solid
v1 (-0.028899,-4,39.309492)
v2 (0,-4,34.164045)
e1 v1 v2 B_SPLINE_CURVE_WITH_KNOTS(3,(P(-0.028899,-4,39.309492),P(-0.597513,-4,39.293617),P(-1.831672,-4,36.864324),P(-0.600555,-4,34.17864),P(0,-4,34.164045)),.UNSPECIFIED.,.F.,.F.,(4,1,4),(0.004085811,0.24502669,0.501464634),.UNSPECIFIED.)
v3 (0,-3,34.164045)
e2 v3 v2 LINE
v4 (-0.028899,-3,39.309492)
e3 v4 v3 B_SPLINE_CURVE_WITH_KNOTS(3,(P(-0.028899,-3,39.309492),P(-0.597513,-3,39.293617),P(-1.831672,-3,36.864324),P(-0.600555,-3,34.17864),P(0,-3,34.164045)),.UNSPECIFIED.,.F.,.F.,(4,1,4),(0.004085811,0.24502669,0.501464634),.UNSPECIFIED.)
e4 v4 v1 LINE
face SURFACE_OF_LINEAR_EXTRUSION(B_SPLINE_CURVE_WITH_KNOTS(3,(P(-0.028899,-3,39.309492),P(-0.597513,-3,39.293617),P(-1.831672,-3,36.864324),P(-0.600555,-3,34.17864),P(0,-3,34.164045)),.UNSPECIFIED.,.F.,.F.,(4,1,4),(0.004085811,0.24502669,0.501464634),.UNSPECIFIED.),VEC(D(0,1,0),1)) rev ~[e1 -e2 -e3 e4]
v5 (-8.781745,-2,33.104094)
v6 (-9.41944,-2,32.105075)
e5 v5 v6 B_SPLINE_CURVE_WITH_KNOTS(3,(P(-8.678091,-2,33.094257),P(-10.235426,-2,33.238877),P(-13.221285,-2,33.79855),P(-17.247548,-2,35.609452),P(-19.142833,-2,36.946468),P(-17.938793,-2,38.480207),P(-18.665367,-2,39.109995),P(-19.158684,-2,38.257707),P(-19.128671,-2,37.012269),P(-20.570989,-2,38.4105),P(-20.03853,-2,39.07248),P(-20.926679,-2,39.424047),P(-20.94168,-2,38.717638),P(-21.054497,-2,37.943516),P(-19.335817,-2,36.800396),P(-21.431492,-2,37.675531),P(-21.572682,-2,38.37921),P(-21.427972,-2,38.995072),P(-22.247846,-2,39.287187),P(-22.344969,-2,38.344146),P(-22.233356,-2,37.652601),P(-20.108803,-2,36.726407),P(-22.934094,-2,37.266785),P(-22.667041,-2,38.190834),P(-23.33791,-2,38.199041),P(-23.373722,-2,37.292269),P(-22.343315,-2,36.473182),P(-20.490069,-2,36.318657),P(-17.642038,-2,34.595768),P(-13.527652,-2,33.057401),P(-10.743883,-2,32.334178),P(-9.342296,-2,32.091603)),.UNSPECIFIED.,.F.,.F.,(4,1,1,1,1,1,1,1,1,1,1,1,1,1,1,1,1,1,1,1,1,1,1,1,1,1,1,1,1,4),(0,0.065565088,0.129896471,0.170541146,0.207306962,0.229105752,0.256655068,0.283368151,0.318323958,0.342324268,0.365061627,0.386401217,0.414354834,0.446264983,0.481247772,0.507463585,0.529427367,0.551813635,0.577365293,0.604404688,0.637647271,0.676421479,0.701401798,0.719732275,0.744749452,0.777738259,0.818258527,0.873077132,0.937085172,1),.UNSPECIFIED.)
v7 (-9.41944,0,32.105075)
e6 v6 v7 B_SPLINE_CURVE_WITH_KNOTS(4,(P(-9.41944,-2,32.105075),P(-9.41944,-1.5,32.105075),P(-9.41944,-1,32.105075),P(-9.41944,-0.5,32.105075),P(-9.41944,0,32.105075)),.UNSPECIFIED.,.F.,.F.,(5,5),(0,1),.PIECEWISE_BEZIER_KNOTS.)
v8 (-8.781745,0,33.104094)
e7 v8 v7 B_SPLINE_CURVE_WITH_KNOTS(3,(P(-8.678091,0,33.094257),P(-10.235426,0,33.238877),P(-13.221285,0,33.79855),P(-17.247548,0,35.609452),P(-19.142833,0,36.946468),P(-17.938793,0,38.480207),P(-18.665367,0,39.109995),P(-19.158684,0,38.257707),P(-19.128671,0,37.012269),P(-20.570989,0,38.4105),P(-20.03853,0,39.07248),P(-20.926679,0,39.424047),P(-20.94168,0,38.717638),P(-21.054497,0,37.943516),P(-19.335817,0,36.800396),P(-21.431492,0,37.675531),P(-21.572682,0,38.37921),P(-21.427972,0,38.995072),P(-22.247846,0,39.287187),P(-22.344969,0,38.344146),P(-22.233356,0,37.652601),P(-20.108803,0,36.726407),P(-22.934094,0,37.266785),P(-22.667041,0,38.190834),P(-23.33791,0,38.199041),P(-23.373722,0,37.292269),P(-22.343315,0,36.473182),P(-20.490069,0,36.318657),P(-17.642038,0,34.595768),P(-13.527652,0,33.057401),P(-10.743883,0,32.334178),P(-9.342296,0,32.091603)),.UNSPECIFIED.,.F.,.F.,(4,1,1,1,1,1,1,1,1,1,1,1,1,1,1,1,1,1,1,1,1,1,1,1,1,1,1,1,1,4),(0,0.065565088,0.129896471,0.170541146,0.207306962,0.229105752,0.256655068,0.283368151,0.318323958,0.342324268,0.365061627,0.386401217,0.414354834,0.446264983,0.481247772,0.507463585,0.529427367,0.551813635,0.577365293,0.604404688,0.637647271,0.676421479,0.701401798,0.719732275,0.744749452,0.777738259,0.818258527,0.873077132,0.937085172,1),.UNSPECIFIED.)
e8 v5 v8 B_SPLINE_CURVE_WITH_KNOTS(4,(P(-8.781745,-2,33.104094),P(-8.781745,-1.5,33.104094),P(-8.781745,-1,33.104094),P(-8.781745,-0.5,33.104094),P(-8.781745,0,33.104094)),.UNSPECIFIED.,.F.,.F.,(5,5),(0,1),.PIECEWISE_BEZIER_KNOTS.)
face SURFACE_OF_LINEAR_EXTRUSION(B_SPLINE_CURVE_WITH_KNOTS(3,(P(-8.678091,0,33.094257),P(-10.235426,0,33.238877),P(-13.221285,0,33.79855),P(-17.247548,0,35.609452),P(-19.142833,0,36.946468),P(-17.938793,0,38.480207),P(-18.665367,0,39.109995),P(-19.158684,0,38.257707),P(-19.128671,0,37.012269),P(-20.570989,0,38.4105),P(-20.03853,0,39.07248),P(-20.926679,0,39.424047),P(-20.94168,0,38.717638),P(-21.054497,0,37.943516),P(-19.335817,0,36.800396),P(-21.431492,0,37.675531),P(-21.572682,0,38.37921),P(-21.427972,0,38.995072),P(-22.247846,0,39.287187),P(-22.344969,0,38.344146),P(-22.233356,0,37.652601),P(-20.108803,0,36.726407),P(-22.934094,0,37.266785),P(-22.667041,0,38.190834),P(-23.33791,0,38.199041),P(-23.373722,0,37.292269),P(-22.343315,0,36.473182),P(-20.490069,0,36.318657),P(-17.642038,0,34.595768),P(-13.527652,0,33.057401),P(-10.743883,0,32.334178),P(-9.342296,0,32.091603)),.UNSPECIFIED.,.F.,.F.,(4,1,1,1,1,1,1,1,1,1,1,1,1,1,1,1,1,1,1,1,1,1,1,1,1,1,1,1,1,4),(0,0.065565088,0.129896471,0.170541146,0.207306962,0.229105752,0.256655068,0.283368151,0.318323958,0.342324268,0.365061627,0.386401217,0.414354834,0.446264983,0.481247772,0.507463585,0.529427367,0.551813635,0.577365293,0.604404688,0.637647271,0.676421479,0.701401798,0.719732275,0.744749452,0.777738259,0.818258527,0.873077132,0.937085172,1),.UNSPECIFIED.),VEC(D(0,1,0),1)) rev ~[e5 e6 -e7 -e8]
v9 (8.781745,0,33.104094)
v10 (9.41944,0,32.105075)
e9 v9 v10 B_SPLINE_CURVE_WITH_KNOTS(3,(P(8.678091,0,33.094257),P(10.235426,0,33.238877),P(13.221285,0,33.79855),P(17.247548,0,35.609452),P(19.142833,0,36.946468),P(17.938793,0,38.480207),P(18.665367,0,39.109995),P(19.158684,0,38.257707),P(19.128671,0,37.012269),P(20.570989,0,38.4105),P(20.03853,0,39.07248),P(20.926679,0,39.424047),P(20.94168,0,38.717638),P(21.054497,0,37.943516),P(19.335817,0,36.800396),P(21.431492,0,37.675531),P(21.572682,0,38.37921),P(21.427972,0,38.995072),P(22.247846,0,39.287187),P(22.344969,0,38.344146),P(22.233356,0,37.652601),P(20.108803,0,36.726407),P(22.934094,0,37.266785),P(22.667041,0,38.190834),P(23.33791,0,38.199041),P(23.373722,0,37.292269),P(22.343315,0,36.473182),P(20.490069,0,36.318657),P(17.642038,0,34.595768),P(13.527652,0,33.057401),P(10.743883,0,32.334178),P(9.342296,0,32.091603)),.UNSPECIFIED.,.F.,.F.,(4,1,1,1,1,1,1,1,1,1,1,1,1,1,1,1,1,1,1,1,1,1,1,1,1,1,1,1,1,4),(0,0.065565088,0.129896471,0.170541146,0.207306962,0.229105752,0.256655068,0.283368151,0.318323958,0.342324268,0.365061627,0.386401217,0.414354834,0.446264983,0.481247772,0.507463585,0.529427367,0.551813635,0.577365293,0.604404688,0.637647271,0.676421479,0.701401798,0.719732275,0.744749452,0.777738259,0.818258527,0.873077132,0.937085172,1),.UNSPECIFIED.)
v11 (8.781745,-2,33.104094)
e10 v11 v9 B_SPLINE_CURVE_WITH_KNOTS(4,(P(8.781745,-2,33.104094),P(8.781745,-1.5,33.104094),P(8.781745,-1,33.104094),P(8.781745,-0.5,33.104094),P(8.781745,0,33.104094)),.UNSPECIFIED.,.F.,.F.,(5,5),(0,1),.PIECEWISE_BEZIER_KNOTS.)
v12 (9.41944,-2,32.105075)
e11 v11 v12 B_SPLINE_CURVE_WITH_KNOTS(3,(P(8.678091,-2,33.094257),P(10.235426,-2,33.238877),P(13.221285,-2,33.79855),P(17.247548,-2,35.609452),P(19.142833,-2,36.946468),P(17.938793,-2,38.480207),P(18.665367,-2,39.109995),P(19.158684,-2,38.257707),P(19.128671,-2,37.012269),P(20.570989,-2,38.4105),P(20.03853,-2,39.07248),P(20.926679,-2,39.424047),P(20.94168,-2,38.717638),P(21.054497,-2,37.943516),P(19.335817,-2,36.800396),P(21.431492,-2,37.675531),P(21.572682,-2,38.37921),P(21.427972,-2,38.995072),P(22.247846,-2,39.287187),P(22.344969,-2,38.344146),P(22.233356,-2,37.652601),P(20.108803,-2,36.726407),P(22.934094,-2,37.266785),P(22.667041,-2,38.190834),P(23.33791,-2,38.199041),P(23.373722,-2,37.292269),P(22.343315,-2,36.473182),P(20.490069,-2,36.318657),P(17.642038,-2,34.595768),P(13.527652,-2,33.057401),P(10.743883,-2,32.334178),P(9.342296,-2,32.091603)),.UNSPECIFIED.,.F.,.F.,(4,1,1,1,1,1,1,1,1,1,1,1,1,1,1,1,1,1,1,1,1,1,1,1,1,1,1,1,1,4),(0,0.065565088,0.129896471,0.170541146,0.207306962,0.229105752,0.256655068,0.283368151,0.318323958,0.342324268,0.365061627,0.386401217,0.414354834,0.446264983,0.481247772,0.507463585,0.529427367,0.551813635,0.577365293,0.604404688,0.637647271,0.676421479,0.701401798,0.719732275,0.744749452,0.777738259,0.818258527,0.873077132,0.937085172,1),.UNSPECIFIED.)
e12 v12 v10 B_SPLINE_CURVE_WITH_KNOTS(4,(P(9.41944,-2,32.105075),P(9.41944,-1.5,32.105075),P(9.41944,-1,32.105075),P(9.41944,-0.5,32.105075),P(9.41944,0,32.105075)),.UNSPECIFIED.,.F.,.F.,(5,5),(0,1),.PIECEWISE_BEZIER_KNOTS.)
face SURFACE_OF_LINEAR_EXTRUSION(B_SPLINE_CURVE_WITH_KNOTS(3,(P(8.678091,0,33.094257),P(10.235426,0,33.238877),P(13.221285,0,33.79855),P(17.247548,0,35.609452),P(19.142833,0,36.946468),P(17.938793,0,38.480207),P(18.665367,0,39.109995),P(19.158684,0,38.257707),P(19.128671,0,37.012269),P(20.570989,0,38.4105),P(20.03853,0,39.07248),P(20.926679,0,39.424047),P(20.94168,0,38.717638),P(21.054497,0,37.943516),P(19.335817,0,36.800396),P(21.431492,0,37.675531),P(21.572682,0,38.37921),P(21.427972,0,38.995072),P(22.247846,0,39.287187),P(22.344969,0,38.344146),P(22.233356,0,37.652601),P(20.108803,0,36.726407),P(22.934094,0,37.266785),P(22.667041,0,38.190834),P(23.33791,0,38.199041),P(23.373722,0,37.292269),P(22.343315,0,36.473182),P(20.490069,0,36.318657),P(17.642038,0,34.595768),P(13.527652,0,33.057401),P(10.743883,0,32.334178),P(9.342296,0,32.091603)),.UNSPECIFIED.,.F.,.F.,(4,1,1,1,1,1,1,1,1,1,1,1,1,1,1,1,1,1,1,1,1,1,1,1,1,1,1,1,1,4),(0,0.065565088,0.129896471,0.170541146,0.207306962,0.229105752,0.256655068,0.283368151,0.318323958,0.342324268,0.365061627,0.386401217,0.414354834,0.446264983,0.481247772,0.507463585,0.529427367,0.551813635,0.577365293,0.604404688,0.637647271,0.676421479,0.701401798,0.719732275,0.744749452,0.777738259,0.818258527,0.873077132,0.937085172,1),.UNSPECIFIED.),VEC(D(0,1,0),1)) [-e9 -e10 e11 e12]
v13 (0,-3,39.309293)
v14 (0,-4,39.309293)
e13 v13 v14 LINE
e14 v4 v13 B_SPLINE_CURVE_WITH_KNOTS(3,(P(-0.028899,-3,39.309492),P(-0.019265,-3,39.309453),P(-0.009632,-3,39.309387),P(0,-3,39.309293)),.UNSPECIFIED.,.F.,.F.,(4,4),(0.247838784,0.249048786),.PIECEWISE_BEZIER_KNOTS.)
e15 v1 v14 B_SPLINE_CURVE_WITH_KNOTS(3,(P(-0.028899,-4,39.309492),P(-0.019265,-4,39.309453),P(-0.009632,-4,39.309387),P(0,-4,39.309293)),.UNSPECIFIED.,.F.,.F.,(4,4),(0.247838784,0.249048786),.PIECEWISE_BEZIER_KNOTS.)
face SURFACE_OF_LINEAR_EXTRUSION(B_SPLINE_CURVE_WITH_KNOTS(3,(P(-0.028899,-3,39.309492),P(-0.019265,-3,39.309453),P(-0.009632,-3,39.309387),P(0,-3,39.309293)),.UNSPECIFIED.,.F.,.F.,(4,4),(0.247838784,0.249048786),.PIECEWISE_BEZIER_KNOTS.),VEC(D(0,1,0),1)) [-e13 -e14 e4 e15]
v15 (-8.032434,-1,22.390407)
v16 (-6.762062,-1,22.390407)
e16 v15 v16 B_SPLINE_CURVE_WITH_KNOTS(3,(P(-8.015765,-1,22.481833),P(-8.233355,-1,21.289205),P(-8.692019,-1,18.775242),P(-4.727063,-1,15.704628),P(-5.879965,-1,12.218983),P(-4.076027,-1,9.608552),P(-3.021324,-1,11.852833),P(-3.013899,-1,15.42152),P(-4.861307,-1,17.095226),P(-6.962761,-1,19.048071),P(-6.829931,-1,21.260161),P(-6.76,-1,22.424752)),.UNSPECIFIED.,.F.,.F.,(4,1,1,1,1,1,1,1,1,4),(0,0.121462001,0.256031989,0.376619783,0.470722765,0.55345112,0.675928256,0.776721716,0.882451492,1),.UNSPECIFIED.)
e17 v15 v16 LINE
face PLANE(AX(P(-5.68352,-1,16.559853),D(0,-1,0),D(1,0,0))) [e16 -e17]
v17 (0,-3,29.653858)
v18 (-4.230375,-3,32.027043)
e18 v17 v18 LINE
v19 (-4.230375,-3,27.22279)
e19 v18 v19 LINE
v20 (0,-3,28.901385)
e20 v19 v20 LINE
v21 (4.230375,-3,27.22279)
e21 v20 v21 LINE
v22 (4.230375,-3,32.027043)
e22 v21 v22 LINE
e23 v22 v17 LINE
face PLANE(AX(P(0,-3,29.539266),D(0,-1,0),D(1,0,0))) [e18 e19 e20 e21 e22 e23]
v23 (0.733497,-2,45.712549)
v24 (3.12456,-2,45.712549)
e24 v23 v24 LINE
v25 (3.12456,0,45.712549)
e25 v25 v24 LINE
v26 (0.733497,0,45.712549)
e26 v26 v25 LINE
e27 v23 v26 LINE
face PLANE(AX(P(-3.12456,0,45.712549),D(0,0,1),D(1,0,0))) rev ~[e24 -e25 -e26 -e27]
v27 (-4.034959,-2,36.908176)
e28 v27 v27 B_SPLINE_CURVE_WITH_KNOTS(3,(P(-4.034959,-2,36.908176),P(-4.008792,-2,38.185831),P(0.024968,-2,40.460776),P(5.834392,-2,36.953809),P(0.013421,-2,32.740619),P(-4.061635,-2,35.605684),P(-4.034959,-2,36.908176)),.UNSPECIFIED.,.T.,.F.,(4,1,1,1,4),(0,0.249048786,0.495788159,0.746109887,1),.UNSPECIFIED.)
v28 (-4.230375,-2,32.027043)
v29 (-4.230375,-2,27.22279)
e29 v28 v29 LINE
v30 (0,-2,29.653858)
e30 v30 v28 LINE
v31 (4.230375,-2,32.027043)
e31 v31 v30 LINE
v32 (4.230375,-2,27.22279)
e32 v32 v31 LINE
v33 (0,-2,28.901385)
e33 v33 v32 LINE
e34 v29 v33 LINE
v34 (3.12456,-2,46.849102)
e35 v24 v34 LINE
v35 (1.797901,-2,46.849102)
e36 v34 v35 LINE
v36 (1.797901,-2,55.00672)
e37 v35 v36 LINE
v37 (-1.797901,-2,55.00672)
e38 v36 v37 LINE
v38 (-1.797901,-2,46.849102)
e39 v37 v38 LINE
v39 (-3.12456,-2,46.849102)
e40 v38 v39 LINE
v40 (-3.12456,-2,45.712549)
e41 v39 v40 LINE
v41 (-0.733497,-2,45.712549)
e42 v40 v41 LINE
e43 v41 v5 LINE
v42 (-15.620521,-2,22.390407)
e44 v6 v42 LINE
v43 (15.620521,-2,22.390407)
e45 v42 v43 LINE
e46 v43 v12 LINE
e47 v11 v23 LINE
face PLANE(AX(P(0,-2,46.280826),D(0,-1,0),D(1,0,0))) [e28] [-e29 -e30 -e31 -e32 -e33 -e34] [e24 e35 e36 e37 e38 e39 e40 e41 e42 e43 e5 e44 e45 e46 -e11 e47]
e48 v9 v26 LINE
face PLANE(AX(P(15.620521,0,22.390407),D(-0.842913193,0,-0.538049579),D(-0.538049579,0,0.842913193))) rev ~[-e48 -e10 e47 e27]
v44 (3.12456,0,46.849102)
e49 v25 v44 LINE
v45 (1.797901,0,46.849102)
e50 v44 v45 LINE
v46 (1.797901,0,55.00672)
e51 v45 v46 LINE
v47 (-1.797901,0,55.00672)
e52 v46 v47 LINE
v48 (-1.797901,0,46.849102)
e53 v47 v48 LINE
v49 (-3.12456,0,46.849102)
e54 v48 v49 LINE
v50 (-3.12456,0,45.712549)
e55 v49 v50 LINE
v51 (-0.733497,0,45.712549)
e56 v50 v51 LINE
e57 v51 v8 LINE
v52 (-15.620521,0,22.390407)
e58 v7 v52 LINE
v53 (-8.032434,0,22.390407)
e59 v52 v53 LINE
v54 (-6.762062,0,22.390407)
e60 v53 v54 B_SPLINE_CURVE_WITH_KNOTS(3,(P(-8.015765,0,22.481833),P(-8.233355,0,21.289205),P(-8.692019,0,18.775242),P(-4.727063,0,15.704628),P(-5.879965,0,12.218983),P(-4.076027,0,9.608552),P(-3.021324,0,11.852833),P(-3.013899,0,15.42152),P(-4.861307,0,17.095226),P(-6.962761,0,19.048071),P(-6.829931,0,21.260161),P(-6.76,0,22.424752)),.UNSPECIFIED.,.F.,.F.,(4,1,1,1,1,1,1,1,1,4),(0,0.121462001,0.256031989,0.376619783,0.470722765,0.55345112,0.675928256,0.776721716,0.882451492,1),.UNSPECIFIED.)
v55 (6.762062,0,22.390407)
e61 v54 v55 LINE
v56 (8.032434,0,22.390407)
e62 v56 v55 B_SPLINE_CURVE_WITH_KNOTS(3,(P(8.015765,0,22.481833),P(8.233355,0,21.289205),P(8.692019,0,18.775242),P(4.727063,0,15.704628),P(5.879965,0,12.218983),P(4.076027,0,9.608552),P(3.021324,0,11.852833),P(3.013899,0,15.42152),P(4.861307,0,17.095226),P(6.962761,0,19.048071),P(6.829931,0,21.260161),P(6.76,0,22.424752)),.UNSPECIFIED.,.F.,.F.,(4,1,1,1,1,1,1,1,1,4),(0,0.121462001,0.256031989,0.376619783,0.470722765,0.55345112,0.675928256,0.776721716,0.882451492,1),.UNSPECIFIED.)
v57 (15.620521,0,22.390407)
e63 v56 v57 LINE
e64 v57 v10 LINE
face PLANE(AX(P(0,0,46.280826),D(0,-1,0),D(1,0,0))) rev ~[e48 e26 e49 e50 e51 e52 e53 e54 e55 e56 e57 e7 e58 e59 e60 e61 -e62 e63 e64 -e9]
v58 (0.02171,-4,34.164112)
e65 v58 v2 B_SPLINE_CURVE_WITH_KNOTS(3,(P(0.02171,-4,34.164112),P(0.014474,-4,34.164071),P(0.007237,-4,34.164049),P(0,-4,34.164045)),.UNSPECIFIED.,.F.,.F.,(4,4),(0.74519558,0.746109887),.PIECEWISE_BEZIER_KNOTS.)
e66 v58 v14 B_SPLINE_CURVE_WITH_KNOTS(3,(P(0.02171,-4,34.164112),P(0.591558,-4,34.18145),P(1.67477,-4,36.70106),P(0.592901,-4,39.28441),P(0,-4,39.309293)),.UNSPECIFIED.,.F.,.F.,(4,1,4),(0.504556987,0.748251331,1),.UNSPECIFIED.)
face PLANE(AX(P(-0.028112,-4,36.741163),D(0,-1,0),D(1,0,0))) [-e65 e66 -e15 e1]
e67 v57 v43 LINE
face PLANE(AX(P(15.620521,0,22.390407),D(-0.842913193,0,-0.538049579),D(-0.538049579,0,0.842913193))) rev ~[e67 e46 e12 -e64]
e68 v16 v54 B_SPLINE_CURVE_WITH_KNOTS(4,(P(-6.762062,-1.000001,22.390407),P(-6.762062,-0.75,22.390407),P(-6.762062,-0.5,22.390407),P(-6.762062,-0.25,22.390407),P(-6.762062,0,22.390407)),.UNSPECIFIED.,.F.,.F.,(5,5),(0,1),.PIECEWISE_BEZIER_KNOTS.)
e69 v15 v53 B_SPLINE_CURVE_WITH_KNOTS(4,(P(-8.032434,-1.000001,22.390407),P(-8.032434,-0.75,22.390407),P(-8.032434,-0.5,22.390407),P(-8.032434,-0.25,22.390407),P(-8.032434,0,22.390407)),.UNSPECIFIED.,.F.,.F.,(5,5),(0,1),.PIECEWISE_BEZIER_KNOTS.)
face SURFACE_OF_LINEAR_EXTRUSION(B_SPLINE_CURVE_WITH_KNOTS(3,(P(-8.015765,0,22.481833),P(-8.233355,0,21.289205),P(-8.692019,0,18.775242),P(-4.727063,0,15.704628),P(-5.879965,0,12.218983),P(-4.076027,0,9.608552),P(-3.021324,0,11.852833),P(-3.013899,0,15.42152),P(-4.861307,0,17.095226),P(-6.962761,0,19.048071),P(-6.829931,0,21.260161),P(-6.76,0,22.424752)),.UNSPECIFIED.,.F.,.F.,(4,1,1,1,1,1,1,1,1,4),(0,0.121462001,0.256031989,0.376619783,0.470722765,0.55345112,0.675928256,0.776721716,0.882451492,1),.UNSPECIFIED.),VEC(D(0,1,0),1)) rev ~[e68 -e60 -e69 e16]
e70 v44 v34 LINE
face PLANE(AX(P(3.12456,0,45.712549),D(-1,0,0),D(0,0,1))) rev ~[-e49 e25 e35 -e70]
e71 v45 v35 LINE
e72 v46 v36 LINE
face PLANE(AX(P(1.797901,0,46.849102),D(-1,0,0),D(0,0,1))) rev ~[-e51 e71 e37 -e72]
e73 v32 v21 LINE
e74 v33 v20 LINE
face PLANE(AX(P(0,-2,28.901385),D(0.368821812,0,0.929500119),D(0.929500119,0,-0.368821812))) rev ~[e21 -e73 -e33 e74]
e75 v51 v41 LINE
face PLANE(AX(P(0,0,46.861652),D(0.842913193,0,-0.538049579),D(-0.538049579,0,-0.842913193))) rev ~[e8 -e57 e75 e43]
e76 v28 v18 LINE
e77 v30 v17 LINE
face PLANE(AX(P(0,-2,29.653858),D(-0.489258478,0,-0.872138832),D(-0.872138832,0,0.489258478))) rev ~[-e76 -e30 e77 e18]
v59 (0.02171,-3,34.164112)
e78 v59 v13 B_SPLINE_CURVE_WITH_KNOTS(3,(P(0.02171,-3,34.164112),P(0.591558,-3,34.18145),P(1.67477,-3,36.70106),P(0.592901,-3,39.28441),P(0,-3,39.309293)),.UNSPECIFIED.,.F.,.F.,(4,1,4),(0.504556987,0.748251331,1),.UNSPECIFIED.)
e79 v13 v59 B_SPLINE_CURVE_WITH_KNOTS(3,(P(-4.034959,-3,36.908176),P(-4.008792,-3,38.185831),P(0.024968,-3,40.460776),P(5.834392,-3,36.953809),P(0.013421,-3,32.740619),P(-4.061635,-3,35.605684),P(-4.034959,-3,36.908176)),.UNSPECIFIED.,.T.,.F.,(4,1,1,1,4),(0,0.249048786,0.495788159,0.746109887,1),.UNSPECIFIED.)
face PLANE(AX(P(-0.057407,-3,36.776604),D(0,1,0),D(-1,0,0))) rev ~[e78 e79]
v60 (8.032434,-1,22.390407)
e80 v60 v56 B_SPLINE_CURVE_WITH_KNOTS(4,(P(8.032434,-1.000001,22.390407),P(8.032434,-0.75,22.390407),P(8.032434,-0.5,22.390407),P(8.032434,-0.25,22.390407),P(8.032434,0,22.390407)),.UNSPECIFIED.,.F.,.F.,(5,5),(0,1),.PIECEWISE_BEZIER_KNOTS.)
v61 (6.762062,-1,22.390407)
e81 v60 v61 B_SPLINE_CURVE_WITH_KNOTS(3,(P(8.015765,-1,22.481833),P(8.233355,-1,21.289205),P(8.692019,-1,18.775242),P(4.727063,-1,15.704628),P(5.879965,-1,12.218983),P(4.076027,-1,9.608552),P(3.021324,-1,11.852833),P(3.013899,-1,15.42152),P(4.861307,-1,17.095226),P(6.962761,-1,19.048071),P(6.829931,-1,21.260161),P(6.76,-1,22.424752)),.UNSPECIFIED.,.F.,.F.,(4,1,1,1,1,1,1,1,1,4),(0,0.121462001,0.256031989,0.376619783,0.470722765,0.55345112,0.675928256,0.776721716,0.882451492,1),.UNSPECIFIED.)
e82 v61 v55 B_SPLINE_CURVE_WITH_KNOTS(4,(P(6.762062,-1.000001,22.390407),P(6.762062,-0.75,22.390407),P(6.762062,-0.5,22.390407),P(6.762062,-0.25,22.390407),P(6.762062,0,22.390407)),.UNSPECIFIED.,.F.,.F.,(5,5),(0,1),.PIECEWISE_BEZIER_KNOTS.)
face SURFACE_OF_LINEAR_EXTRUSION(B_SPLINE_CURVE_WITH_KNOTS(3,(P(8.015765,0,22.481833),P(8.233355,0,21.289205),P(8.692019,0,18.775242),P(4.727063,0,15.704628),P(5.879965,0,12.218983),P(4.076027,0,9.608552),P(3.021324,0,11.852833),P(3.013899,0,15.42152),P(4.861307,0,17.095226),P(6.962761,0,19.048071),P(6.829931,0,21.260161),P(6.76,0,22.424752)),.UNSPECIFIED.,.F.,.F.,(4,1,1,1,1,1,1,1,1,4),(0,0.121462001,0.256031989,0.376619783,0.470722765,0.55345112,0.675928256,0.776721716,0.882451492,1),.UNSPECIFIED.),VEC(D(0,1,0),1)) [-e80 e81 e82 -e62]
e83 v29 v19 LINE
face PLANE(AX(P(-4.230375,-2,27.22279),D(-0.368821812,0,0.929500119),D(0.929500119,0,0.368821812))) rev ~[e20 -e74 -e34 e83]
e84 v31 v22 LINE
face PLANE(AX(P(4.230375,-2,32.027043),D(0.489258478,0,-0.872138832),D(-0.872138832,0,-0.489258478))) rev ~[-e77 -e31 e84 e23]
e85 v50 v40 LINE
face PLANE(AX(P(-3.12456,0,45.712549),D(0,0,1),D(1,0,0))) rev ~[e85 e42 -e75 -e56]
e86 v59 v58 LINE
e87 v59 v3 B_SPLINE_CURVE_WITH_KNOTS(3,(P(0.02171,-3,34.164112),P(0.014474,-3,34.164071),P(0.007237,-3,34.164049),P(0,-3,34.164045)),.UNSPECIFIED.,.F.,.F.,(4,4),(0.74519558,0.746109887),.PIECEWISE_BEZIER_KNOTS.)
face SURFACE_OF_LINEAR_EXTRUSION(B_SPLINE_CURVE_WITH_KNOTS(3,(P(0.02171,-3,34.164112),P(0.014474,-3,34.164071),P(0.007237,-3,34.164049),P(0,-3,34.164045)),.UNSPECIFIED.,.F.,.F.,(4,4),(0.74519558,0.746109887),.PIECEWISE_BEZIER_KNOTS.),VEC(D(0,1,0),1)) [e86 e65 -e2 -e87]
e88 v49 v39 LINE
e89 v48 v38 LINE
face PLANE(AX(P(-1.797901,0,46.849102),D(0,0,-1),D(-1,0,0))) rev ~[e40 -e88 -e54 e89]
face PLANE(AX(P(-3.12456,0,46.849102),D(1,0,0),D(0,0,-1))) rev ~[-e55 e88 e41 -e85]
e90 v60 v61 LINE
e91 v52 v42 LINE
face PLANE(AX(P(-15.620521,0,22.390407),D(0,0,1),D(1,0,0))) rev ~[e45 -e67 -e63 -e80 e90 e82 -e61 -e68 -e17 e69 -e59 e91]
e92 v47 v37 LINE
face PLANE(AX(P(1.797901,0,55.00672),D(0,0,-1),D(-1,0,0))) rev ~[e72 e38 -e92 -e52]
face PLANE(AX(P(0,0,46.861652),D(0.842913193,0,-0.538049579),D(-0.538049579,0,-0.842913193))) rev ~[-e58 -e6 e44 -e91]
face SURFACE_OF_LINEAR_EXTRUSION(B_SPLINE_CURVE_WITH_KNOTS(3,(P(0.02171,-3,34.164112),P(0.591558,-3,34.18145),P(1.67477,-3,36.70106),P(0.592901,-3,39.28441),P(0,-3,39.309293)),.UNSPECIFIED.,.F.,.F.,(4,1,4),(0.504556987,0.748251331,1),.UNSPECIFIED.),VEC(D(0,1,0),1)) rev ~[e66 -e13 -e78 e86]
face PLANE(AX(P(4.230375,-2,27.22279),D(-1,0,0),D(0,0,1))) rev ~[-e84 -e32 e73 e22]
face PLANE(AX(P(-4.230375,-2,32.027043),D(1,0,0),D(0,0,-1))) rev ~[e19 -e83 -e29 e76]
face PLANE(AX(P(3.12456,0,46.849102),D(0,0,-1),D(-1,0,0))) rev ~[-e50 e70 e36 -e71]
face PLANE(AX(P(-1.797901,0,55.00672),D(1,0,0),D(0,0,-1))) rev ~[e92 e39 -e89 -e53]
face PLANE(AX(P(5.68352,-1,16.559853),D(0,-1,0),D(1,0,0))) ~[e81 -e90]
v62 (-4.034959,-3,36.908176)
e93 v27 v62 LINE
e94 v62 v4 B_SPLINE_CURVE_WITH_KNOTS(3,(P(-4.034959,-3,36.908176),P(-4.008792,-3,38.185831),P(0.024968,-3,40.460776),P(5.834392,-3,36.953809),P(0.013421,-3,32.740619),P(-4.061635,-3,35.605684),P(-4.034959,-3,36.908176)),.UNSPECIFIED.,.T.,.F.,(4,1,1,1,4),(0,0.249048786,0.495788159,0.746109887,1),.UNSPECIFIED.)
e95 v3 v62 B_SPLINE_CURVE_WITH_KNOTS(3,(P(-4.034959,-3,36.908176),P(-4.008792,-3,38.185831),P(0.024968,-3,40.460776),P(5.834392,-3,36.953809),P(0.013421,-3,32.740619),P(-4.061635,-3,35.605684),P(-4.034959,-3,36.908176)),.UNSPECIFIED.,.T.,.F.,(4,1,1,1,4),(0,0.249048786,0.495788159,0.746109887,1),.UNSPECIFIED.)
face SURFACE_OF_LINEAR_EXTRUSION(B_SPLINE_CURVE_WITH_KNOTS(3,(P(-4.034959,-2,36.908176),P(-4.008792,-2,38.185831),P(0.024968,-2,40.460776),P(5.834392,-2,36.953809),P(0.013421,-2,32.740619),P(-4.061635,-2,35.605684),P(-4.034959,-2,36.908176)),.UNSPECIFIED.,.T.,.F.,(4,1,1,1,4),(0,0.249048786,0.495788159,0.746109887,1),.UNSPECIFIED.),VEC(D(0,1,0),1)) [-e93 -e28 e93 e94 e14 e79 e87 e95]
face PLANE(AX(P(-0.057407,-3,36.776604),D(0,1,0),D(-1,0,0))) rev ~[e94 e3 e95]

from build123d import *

# Parameters (mm, degrees)
F1_DEPTH  = 2
F3_DEPTH  = 1
F5_DEPTH  = 1
F7_DEPTH  = 1
F9_DEPTH  = 1
F12_DEPTH = 2
F15_DEPTH = 2


with BuildPart() as f1:
    # F0 (on Front) → F1 (new body)
    with BuildSketch(Plane.XZ):
        Polygon((15.6205212697, 22.3904065788), (0, 46.8616522849), (-15.6205212697, 22.3904065788), (0, 22.3904065788), align=None)
    extrude(amount=F1_DEPTH)

    # F2 (on face) → F3 (join)
    with BuildSketch(Plane.XZ.offset(2)):
        with BuildLine():
            add(Edge.make_bspline(
                [(-4.0349592455, 36.9081757963), (-4.0087917554, 38.1858308355), (0.0249684195, 40.4607762304), (5.8343924038, 36.953808783), (0.0134213075, 32.7406191639), (-4.0616354125, 35.6056840712), (-4.0349592455, 36.9081757963)],
                knots=[0, 0, 0, 0, 0.2490487858, 0.495788159, 0.7461098867, 1, 1, 1, 1], degree=3))
        make_face()
    extrude(amount=F3_DEPTH)

    # F4 (on face) → F5 (join)
    with BuildSketch(Plane.XZ.offset(3)):
        with BuildLine():
            add(Edge.make_bspline(
                [(0.0217100728, 34.1641122458), (0.5915584332, 34.1814496362), (1.6747703883, 36.7010599903), (0.5929011025, 39.2844102571), (0, 39.3092930317)],
                knots=[0.5045569869, 0.5045569869, 0.5045569869, 0.5045569869, 0.7482513312, 1, 1, 1, 1], degree=3))
            add(Edge.make_bspline(
                [(-0.0288990093, 39.3094922938), (-0.0192651296, 39.3094532254), (-0.0096320483, 39.309386844), (0, 39.3092930317)],
                knots=[0.2478387836, 0.2478387836, 0.2478387836, 0.2478387836, 0.2490487858, 0.2490487858, 0.2490487858, 0.2490487858], degree=3))
            add(Edge.make_bspline(
                [(-0.0288990093, 39.3094922938), (-0.5975127804, 39.293616949), (-1.831672015, 36.8643236509), (-0.6005546173, 34.1786399474), (-5.75e-08, 34.1640450074)],
                knots=[0.0040858105, 0.0040858105, 0.0040858105, 0.0040858105, 0.2450266899, 0.5014646337, 0.5014646337, 0.5014646337, 0.5014646337], degree=3))
            add(Edge.make_bspline(
                [(0.0217100728, 34.1641122458), (0.0144739922, 34.1640711591), (0.0072372701, 34.1640487212), (0, 34.164045006)],
                knots=[0.7451955795, 0.7451955795, 0.7451955795, 0.7451955795, 0.7461098867, 0.7461098867, 0.7461098867, 0.7461098867], degree=3))
        make_face()
    extrude(amount=F5_DEPTH)

    # F6 (on face) → F7 (join)
    with BuildSketch(Plane.XZ.offset(2)):
        Polygon((4.230374936, 32.0270434022), (0, 29.6538583934), (-4.230374936, 32.0270434022), (-4.230374936, 27.222789824), (0, 28.9013851434), (4.230374936, 27.222789824), align=None)
    extrude(amount=F7_DEPTH)

    # F10: F9 across plane


with BuildPart() as f9:
    # F8 (on Front) → F9 (new body)
    with BuildSketch(Plane.XZ):
        with BuildLine():
            Line((-6.7599997856, 22.4247518927), (-8.0157648772, 22.4818326533))
            add(Edge.make_bspline(
                [(-8.0157648772, 22.4818326533), (-8.2333554622, 21.2892046586), (-8.6920186649, 18.7752421374), (-4.7270627461, 15.7046275926), (-5.8799647403, 12.2189825791), (-4.0760268467, 9.6085518705), (-3.0213236779, 11.8528329107), (-3.0138994905, 15.4215199516), (-4.8613071792, 17.095226124), (-6.9627613149, 19.0480713018), (-6.829930659, 21.2601610373), (-6.7599997856, 22.4247518927)],
                knots=[0, 0, 0, 0, 0.1214620006, 0.2560319886, 0.3766197826, 0.4707227647, 0.5534511201, 0.6759282557, 0.7767217162, 0.8824514922, 1, 1, 1, 1], degree=3))
        make_face()
    extrude(amount=F9_DEPTH)


with BuildPart() as f1_1:
    add(f1.part)
    add(f9.part.mirror(Plane.YZ))

    # F13: F12 across plane


with BuildPart() as f12:
    # F11 (on Front) → F12 (new body)
    with BuildSketch(Plane.XZ):
        with BuildLine():
            Line((-9.342296049, 32.0916026831), (-8.6780907586, 33.0942571163))
            add(Edge.make_bspline(
                [(-8.6780907586, 33.0942571163), (-10.2354259806, 33.2388768053), (-13.221284568, 33.7985497855), (-17.2475480682, 35.6094522432), (-19.1428334613, 36.9464675138), (-17.938793363, 38.4802069342), (-18.6653667048, 39.1099949054), (-19.1586844818, 38.2577071646), (-19.1286707298, 37.0122693596), (-20.5709891398, 38.4104996981), (-20.0385301821, 39.0724796793), (-20.926678844, 39.4240468943), (-20.941680024, 38.717637889), (-21.0544969238, 37.9435164032), (-19.335817175, 36.8003958092), (-21.4314923182, 37.6755309422), (-21.5726816368, 38.3792095305), (-21.4279719631, 38.995071547), (-22.2478463296, 39.2871866939), (-22.3449687539, 38.344145948), (-22.2333563913, 37.6526005451), (-20.1088033929, 36.7264073698), (-22.9340936942, 37.2667846433), (-22.6670407268, 38.1908340185), (-23.3379097021, 38.199041394), (-23.3737221612, 37.2922693101), (-22.3433146707, 36.4731822648), (-20.4900689124, 36.3186571751), (-17.6420375044, 34.5957683317), (-13.5276522678, 33.0574011997), (-10.7438834509, 32.3341784859), (-9.342296049, 32.0916026831)],
                knots=[0, 0, 0, 0, 0.0655650882, 0.1298964713, 0.1705411465, 0.2073069623, 0.2291057518, 0.2566550675, 0.2833681513, 0.3183239583, 0.3423242682, 0.3650616268, 0.3864012173, 0.414354834, 0.4462649835, 0.4812477722, 0.5074635846, 0.5294273669, 0.5518136346, 0.5773652927, 0.6044046882, 0.6376472711, 0.676421479, 0.7014017979, 0.7197322752, 0.7447494515, 0.7777382585, 0.818258527, 0.873077132, 0.9370851719, 1, 1, 1, 1], degree=3))
        make_face()
    extrude(amount=F12_DEPTH)


with BuildPart() as f1_2:
    add(f1_1.part)
    add(f12.part.mirror(Plane.YZ))


    add(f9.part)  # F15 merges F9

    add(f12.part)  # F15 merges F12
    # F14 (on Front) → F15 (join)
    with BuildSketch(Plane.XZ):
        Polygon((-3.1245604623, 45.7125492394), (0, 45.7125492394), (3.1245604623, 45.7125492394), (3.1245604623, 46.8491017818), (1.7979005352, 46.8491017818), (0, 46.8491017818), (-1.7979005352, 46.8491017818), (-3.1245604623, 46.8491017818), align=None)
        Polygon((-1.7979005352, 55.0067201257), (-1.7979005352, 46.8491017818), (0, 46.8491017818), (1.7979005352, 46.8491017818), (1.7979005352, 55.0067201257), (0, 55.0067201257), align=None)
    extrude(amount=F15_DEPTH)


solid = f1_2.part
